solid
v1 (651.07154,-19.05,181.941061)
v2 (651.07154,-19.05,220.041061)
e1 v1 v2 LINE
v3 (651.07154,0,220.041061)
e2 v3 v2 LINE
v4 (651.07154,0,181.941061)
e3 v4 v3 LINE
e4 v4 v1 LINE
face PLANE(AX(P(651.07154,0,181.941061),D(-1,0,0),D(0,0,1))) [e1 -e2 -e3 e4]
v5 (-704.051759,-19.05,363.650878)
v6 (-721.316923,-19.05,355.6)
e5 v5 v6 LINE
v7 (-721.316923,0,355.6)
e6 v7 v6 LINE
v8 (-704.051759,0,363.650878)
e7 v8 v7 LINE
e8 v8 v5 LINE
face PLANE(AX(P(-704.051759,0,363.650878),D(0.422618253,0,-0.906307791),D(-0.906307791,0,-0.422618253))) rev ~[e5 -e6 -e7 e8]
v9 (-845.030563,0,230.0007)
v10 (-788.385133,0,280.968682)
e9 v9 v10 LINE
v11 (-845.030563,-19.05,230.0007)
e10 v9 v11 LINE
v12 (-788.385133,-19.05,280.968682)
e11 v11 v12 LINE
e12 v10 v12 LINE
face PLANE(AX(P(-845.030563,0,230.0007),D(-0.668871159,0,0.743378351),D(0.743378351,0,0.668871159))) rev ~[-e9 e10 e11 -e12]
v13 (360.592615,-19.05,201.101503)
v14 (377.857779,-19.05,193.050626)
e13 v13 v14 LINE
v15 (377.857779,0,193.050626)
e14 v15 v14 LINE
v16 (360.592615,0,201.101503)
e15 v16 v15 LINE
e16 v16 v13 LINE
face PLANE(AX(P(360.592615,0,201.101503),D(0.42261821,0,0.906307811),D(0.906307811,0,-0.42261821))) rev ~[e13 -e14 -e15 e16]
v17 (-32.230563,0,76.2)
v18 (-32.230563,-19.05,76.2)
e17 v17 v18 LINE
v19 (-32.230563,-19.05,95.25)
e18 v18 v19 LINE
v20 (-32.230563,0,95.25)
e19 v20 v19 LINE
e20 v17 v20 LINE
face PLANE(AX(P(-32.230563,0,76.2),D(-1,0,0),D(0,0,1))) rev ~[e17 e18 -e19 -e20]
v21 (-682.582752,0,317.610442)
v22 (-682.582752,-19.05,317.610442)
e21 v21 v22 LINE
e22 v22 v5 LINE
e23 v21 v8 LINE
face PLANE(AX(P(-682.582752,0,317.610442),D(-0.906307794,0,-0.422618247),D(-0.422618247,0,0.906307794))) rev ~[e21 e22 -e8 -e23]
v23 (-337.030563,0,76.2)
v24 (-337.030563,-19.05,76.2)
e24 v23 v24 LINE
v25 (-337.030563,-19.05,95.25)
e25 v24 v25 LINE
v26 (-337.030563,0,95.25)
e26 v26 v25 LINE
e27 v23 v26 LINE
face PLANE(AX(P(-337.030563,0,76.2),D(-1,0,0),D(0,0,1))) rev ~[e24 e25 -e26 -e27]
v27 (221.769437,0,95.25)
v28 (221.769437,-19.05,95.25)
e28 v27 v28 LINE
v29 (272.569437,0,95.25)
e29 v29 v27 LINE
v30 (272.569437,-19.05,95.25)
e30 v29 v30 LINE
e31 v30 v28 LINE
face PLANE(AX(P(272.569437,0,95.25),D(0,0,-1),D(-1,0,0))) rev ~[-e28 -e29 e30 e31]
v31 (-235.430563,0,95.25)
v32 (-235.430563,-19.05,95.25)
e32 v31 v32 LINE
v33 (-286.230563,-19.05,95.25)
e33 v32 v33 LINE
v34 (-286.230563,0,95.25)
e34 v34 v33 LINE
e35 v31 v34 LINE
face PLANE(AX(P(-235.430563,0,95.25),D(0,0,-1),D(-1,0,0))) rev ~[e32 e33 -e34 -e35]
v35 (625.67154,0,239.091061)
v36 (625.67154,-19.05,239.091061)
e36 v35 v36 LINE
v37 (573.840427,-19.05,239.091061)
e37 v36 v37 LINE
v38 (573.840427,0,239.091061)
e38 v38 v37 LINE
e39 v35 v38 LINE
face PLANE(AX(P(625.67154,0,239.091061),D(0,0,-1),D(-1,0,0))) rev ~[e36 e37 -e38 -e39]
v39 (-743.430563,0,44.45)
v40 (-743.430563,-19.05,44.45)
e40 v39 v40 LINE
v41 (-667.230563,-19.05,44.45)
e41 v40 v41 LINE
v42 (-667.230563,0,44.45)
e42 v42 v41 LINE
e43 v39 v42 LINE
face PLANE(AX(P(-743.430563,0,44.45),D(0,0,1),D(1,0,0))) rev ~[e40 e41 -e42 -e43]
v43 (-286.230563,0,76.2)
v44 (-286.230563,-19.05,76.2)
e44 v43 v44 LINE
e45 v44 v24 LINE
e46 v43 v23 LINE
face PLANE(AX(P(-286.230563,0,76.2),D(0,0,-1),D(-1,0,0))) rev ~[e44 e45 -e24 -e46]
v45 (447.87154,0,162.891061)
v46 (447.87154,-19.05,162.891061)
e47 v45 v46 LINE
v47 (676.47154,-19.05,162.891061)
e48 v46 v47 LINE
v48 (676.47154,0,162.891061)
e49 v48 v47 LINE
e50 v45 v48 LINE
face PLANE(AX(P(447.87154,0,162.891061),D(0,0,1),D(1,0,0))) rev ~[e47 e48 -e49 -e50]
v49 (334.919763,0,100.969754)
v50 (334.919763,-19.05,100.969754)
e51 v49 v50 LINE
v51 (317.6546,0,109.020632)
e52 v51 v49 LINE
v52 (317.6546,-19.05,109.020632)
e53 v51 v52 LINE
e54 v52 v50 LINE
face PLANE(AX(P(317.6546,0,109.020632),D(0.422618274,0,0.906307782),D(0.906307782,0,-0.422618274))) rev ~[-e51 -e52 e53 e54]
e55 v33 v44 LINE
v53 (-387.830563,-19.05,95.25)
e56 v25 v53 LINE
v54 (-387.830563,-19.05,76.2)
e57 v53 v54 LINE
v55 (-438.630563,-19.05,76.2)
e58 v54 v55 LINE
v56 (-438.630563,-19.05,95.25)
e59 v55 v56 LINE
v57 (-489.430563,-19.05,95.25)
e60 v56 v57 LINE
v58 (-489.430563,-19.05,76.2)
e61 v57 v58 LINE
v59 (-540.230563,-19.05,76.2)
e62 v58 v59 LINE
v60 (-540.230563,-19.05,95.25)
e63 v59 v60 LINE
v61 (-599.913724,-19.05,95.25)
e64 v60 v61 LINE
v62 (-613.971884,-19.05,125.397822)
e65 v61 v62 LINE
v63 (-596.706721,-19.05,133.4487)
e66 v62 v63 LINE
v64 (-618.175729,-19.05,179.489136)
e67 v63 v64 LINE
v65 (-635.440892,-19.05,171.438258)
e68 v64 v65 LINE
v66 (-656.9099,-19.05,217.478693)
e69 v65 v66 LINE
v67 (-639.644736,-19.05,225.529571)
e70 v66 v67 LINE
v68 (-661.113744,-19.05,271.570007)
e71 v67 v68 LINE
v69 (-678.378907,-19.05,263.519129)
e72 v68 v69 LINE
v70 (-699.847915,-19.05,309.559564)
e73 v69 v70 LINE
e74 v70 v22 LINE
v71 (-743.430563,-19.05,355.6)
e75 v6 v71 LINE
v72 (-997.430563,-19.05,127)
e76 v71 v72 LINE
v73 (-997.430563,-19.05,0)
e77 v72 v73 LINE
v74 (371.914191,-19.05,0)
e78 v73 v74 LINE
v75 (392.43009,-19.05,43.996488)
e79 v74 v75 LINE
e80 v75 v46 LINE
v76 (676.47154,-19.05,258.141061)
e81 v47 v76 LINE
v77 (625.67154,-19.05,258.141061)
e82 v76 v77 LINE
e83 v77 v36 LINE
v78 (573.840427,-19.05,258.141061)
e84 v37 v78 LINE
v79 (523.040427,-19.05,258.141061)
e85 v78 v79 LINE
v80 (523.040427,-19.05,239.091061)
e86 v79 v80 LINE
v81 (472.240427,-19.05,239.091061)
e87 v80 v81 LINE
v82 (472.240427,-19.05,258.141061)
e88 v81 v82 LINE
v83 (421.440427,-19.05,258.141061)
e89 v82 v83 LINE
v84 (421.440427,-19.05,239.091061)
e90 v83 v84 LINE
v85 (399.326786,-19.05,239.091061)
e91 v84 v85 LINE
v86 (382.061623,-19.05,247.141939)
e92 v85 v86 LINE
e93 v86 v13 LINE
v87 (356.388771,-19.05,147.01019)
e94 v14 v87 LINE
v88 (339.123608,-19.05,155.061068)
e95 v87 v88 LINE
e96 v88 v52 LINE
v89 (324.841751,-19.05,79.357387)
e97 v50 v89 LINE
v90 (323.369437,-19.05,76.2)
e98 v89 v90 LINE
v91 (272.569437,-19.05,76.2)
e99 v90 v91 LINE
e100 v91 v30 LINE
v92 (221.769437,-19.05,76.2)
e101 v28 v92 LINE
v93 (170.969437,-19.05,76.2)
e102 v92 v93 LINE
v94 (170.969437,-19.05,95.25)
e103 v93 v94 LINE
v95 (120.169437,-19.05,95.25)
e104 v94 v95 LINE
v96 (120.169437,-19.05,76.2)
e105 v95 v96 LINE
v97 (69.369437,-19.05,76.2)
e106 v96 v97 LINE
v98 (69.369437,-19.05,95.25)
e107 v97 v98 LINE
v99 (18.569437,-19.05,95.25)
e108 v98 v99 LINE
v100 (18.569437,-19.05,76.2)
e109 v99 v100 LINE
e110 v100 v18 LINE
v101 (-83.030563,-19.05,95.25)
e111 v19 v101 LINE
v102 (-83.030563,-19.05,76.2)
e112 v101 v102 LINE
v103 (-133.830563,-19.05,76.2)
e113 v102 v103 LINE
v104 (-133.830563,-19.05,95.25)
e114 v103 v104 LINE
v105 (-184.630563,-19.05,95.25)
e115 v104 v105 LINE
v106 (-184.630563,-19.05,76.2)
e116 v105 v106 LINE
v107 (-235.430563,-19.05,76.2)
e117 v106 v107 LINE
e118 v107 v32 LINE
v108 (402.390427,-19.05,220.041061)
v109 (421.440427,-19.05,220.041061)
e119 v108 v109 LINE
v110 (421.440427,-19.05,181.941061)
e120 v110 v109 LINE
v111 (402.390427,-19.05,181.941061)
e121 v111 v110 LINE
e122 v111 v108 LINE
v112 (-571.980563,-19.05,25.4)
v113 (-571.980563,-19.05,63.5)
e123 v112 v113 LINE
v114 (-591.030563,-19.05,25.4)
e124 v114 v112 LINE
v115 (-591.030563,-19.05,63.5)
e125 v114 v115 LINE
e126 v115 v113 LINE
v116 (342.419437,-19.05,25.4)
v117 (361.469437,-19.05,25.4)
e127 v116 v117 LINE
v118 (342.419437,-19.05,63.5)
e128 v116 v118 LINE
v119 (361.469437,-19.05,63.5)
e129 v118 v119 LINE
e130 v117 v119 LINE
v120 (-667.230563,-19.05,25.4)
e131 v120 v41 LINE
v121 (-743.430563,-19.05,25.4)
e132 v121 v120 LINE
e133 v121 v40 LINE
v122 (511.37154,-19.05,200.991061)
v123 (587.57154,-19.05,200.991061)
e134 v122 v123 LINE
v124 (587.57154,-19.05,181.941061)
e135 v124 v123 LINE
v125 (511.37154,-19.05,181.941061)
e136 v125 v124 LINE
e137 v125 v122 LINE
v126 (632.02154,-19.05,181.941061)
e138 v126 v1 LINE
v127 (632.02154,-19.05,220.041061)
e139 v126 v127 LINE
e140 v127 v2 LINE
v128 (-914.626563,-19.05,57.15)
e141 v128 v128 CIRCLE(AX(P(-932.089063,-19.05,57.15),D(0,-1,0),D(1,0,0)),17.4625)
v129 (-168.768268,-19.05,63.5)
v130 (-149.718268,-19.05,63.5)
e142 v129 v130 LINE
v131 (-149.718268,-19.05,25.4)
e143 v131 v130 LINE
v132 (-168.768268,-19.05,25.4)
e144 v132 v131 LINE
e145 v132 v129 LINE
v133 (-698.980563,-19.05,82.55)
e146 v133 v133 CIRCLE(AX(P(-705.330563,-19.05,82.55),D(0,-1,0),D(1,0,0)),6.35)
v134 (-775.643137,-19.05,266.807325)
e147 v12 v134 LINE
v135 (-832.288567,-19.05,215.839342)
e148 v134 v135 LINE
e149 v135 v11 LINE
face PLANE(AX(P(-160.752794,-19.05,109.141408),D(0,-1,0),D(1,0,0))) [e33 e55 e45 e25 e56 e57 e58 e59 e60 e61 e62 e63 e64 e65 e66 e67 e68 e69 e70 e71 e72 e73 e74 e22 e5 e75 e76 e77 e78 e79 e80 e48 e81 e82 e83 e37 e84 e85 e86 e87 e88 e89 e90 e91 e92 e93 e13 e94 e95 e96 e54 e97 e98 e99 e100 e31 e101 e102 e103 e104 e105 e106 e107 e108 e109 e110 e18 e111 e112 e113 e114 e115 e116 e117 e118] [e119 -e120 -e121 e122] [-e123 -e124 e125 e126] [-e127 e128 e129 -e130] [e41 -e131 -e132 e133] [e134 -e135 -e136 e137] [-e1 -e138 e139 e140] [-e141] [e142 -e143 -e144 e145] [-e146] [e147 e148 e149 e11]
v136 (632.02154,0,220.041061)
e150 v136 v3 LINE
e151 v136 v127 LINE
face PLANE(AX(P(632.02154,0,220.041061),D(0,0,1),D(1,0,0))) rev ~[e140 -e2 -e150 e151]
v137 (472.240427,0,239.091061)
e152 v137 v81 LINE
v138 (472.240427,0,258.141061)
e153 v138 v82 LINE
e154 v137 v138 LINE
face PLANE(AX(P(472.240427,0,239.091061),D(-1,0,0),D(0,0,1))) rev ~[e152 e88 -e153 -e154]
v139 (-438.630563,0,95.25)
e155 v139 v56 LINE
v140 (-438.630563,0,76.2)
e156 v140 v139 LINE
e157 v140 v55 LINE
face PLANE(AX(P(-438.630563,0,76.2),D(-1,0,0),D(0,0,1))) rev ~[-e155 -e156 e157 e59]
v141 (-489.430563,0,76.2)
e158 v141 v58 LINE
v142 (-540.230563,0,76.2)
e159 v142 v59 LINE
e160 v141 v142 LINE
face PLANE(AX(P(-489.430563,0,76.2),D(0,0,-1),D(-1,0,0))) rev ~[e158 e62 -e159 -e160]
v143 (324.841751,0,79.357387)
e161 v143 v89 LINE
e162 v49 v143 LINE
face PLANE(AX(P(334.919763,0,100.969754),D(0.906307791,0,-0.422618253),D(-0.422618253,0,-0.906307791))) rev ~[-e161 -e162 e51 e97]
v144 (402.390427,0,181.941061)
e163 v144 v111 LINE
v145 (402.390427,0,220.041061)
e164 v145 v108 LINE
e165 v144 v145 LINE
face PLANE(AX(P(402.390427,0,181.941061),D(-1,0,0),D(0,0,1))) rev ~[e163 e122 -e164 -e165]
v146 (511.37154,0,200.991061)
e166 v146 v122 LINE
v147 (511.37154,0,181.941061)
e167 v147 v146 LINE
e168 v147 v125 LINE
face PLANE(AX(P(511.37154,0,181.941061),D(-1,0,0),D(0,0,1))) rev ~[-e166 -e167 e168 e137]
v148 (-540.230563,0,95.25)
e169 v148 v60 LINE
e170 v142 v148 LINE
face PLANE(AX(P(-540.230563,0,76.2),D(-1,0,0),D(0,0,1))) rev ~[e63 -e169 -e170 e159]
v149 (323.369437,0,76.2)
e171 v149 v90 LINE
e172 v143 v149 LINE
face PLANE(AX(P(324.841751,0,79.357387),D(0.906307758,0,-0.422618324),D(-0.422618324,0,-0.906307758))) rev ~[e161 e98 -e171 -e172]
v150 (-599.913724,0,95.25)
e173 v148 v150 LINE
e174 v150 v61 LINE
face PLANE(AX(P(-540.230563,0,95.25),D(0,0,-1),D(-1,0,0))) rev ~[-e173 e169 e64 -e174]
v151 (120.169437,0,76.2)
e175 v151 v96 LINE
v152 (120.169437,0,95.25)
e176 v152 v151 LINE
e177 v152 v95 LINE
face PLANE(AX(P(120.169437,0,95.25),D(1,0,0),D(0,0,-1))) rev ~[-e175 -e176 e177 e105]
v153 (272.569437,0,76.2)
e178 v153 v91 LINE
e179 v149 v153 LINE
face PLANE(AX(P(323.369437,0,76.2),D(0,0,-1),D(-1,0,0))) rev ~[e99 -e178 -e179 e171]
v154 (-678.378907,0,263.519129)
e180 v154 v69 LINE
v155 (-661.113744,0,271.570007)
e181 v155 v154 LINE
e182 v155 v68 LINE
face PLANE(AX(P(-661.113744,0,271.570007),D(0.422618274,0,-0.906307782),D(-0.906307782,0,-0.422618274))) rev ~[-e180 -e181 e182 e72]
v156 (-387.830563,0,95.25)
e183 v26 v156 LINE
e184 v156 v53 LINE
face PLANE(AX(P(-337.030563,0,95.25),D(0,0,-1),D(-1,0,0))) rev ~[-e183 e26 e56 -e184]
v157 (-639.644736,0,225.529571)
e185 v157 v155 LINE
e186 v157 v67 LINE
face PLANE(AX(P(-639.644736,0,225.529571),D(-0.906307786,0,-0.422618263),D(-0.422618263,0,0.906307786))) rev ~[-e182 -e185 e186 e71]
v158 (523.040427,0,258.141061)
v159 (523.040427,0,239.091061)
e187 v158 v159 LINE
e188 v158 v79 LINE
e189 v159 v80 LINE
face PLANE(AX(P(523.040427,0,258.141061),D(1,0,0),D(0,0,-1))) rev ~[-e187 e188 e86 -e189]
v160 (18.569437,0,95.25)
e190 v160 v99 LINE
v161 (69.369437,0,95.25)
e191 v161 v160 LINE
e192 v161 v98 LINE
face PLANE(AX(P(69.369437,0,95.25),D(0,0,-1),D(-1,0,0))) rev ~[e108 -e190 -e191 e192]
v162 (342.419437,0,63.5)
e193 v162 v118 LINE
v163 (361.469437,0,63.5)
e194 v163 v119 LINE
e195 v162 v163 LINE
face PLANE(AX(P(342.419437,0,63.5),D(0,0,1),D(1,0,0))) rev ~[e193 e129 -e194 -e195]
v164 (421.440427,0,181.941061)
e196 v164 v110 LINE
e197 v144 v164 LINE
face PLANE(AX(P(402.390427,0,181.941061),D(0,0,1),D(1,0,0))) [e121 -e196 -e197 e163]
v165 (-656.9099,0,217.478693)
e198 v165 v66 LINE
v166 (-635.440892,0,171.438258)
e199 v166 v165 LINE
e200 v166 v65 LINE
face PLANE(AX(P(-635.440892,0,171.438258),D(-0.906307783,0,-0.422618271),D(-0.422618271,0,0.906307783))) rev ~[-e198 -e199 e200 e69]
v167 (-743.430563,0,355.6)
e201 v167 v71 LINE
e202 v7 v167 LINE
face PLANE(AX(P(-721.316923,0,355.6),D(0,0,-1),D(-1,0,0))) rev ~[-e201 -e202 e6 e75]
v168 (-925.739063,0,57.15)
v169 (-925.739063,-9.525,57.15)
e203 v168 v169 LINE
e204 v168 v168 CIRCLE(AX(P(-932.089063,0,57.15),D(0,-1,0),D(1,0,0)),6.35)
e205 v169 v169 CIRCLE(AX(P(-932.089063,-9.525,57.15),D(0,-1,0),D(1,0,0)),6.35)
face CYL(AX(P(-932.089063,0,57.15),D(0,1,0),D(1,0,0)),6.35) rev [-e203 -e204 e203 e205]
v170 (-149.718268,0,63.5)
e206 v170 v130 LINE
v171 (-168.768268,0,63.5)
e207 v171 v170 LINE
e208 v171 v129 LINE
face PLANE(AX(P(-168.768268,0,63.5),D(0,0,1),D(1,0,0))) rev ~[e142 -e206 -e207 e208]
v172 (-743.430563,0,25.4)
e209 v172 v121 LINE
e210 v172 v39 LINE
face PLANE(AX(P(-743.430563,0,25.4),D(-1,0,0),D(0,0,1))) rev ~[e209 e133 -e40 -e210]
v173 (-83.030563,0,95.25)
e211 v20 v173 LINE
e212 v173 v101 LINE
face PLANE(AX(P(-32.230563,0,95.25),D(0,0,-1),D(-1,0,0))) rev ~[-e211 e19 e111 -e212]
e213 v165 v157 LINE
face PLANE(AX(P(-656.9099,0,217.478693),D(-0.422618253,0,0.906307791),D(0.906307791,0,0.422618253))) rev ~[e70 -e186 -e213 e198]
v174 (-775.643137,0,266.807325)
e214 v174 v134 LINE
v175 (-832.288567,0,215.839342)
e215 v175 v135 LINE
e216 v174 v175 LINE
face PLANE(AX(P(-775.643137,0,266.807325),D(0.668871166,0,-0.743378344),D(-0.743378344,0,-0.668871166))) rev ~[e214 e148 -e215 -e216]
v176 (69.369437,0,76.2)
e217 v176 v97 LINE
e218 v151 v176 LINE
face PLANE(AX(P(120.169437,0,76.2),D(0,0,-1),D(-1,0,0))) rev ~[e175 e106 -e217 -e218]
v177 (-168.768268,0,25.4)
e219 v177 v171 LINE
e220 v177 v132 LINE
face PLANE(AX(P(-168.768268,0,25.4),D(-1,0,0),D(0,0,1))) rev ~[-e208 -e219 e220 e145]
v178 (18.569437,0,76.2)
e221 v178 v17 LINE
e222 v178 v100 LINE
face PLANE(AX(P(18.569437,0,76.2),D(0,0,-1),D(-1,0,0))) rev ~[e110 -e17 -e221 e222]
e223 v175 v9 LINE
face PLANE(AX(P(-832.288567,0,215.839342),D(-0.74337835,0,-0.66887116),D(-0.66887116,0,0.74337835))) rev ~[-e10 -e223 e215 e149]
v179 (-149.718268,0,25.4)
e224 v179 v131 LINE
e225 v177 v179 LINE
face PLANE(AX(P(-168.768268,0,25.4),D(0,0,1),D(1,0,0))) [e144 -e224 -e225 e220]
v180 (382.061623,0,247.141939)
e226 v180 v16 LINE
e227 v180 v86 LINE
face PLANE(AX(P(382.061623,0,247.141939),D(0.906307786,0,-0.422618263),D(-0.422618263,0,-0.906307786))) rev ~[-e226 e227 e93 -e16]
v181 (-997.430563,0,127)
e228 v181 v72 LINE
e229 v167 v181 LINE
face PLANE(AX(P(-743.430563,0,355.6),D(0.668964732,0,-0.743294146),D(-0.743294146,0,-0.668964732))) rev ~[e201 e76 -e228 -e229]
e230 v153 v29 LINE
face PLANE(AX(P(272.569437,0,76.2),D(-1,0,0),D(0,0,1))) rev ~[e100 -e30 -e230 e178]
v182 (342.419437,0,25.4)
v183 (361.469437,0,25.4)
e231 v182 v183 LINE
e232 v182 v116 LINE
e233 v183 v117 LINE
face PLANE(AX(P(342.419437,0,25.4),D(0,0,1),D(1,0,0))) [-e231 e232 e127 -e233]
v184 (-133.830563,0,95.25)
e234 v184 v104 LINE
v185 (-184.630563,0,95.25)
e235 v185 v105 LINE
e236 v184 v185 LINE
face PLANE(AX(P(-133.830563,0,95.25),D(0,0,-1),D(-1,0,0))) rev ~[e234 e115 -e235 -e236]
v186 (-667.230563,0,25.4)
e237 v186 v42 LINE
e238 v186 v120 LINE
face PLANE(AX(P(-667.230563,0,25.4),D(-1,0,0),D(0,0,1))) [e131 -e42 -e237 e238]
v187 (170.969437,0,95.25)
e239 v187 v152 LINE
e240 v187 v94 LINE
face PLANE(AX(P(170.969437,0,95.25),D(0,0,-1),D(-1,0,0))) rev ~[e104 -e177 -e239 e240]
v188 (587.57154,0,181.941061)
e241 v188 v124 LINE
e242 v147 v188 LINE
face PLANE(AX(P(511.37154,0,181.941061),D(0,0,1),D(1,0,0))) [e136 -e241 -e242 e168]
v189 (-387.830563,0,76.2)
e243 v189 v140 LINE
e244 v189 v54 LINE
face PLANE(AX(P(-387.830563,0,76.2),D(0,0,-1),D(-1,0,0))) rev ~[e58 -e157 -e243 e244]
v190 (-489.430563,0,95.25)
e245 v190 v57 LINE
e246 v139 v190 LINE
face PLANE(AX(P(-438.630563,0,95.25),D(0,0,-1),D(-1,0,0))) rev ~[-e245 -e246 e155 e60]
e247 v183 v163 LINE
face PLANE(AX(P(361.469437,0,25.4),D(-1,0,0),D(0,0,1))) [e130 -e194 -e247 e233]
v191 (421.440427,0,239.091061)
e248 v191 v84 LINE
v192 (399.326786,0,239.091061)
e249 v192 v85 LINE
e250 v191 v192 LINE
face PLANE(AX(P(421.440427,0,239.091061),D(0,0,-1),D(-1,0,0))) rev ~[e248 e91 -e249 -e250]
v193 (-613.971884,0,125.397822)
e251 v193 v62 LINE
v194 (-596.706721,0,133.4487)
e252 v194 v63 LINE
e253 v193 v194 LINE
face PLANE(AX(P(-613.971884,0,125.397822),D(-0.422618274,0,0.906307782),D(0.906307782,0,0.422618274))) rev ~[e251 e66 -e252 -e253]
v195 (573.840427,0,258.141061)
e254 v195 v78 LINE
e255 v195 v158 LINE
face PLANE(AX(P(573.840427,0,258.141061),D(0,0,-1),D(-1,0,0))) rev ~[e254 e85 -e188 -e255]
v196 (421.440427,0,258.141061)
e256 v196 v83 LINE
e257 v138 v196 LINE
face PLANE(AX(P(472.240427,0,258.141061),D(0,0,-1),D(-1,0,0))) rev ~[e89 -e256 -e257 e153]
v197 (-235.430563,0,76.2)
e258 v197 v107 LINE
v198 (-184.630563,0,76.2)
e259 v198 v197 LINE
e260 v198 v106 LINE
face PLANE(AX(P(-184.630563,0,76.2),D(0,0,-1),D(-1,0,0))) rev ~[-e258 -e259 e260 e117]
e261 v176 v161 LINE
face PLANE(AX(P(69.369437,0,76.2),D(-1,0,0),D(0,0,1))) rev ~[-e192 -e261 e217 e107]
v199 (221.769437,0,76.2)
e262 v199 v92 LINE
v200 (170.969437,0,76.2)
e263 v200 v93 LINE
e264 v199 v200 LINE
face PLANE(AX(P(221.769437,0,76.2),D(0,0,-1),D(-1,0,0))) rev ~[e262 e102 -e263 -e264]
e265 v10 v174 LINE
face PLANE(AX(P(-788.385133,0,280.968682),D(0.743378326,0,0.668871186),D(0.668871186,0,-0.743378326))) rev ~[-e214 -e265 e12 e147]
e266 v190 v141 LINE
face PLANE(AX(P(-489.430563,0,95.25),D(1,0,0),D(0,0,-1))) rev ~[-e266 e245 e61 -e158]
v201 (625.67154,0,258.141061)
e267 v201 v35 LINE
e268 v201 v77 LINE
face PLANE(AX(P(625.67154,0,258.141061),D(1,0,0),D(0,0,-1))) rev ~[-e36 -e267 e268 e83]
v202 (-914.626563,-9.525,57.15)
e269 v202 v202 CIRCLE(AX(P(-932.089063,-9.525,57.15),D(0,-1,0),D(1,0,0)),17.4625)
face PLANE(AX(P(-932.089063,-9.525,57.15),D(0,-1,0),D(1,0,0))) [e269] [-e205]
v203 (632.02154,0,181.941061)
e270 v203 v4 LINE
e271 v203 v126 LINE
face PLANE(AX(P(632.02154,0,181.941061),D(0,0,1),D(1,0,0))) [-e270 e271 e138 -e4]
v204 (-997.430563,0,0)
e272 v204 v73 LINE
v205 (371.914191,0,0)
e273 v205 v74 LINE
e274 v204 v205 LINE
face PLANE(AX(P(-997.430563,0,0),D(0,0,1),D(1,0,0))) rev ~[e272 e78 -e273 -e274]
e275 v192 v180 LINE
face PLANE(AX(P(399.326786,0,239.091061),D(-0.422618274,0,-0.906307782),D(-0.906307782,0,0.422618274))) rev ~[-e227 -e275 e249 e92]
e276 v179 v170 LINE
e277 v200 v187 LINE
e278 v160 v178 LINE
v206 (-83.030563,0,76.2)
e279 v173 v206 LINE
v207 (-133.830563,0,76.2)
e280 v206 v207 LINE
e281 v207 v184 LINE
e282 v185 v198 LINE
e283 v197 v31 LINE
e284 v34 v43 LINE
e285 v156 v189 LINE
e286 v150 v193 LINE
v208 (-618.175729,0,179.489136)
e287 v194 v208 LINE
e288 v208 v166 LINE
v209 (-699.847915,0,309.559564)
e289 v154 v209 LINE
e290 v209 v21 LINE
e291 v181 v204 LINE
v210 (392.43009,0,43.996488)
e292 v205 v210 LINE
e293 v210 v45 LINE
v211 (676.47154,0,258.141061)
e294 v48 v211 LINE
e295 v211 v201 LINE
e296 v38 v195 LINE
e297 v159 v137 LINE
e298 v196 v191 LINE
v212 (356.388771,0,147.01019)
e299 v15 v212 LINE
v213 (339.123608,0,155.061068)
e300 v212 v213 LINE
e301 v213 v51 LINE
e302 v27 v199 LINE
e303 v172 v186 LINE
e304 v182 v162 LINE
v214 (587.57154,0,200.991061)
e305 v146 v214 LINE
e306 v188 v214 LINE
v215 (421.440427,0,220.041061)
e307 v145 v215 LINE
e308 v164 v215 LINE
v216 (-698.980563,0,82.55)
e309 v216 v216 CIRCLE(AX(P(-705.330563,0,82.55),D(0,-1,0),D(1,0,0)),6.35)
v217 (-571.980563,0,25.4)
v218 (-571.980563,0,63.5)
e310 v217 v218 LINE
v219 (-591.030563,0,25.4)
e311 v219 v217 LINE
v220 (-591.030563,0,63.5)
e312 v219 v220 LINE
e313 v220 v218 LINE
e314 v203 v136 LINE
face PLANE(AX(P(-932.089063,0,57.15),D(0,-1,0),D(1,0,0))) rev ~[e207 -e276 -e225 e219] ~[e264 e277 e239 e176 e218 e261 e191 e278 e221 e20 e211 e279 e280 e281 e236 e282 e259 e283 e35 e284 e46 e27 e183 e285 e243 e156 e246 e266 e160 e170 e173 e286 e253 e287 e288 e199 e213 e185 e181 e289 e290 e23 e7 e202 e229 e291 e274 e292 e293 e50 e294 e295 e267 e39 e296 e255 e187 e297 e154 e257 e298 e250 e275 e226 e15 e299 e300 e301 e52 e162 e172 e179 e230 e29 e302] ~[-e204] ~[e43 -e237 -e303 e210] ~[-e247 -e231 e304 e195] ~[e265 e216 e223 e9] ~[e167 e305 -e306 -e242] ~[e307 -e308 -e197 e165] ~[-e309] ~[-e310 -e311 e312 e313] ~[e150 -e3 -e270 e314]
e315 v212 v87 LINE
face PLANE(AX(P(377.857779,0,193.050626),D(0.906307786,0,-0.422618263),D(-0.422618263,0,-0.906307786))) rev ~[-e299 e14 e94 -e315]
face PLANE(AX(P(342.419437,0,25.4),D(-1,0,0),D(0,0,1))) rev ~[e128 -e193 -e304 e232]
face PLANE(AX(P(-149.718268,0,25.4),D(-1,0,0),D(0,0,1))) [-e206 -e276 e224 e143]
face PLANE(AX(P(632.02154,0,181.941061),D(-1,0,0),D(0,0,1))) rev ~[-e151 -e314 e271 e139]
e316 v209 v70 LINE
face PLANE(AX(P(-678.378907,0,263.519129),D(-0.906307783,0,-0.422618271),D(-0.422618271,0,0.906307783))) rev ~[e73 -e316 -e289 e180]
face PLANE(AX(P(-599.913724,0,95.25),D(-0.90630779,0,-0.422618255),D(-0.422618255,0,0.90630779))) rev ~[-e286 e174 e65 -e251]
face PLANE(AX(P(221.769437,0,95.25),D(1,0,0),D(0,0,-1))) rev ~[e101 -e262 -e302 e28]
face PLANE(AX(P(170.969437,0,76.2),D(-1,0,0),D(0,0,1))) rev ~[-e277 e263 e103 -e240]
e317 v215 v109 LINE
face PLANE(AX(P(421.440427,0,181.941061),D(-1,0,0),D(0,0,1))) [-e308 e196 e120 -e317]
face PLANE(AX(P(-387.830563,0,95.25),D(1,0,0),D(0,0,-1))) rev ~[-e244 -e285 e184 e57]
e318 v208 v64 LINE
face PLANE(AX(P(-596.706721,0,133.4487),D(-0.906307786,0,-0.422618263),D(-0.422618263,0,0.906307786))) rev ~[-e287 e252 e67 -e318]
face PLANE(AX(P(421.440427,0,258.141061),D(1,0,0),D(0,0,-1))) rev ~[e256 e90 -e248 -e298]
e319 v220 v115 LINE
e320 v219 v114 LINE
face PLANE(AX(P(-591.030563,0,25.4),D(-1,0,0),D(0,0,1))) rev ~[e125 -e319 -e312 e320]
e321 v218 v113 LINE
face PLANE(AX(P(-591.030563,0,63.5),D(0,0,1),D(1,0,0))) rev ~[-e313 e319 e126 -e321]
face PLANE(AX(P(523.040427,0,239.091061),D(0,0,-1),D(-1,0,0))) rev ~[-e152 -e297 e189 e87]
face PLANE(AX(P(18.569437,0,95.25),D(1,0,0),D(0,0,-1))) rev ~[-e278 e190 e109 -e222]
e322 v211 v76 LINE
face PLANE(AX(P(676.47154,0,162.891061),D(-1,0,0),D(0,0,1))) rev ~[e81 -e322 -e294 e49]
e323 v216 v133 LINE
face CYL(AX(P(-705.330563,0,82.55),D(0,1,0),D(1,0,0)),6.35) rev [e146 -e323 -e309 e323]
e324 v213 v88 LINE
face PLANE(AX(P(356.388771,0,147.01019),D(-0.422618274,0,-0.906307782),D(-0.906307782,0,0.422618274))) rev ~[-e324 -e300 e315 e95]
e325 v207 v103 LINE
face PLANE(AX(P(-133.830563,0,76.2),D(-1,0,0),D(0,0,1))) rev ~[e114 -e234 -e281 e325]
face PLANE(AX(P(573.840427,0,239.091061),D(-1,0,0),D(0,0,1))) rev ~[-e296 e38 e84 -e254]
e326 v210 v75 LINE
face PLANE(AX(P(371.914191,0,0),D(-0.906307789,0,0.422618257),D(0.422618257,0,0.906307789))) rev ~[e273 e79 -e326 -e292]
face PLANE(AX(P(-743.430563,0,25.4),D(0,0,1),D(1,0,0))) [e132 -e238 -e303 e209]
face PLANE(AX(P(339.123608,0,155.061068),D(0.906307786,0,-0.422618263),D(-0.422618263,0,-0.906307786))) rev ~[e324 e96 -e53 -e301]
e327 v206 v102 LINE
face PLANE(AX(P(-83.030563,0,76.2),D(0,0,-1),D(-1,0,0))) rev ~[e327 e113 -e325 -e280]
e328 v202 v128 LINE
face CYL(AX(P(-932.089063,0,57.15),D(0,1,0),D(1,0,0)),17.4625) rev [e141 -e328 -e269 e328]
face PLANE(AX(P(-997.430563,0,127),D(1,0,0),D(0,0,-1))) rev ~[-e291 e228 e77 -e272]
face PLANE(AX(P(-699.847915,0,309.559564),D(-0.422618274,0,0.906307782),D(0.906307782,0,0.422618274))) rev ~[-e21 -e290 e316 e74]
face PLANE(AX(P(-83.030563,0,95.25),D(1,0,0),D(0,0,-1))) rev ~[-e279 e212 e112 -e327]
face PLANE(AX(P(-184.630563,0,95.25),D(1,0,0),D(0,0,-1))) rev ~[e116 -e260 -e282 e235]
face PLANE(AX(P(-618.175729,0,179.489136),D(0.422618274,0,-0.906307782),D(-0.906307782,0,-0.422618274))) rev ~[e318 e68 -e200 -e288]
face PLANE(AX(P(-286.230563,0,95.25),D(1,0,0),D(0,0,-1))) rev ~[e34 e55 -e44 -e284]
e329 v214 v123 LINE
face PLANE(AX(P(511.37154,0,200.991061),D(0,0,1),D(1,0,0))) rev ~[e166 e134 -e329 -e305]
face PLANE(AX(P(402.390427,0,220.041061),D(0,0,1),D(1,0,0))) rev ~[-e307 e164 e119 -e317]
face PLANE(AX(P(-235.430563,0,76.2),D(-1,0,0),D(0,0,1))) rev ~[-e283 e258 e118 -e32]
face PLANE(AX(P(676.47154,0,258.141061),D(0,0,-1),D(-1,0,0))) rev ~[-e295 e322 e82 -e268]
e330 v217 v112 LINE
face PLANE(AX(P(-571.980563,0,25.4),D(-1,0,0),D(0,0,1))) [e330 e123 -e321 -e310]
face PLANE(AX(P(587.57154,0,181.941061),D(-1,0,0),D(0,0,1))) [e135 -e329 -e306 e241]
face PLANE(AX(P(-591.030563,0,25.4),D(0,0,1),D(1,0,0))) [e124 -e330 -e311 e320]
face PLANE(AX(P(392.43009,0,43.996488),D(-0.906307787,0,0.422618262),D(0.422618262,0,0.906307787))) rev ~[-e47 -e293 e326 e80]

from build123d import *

# Parameters (mm, degrees)
F0_W     = 76.2
F0_H     = 19.05
F0_W_2   = 19.05
F0_H_2   = 38.1
F0_R     = 17.4625
F0_R_2   = 6.35
F1_DEPTH = 19.05
F2_DEPTH = 9.525


with BuildPart() as f1:
    # F0 (on Front) → F1 (new body)
    with BuildSketch(Plane.XZ):
        Polygon((-489.430563, 76.2), (-540.230563, 76.2), (-540.230563, 95.25), (-591.030563, 95.25), (-599.913724, 95.25), (-613.971884, 125.397822), (-596.706721, 133.4487), (-618.175729, 179.489136), (-635.440892, 171.438258), (-656.9099, 217.478693), (-639.644736, 225.529571), (-661.113744, 271.570007), (-678.378907, 263.519129), (-699.847915, 309.559564), (-682.582752, 317.610442), (-704.051759, 363.650878), (-721.316923, 355.6), (-743.430563, 355.6), (-997.430563, 127), (-997.430563, 0), (-591.030563, 0), (342.419437, 0), (371.914191, 0), (392.43009, 43.996488), (447.87154, 162.891061), (502.200551, 162.891061), (676.47154, 162.891061), (676.47154, 239.091061), (676.47154, 258.141061), (625.67154, 258.141061), (625.67154, 239.091061), (573.840427, 239.091061), (573.840427, 258.141061), (523.040427, 258.141061), (523.040427, 239.091061), (472.240427, 239.091061), (472.240427, 258.141061), (421.440427, 258.141061), (421.440427, 239.091061), (399.326786, 239.091061), (382.061623, 247.141939), (360.592615, 201.101503), (377.857779, 193.050626), (356.388771, 147.01019), (339.123608, 155.061068), (317.6546, 109.020632), (334.919763, 100.969754), (324.841751, 79.357387), (323.369437, 76.2), (272.569437, 76.2), (272.569437, 95.25), (221.769437, 95.25), (221.769437, 76.2), (170.969437, 76.2), (170.969437, 95.25), (120.169437, 95.25), (120.169437, 76.2), (69.369437, 76.2), (69.369437, 95.25), (18.569437, 95.25), (18.569437, 76.2), (-32.230563, 76.2), (-32.230563, 95.25), (-83.030563, 95.25), (-83.030563, 76.2), (-133.830563, 76.2), (-133.830563, 95.25), (-184.630563, 95.25), (-184.630563, 76.2), (-235.430563, 76.2), (-235.430563, 95.25), (-286.230563, 95.25), (-286.230563, 76.2), (-337.030563, 76.2), (-337.030563, 95.25), (-387.830563, 95.25), (-387.830563, 76.2), (-438.630563, 76.2), (-438.630563, 95.25), (-489.430563, 95.25), align=None)
        with Locations((-705.330563, 34.925)):
            Rectangle(F0_W, F0_H, mode=Mode.SUBTRACT)
        with Locations((-581.505563, 44.45)):
            Rectangle(F0_W_2, F0_H_2, mode=Mode.SUBTRACT)
        with Locations((-932.089063, 57.15)):
            Circle(F0_R, mode=Mode.SUBTRACT)
        with Locations((-705.330563, 82.55)):
            Circle(F0_R_2, mode=Mode.SUBTRACT)
        with Locations((-159.243268, 44.45)):
            Rectangle(F0_W_2, F0_H_2, mode=Mode.SUBTRACT)
        with Locations((351.944437, 44.45)):
            Rectangle(F0_W_2, F0_H_2, mode=Mode.SUBTRACT)
        Polygon((-832.288567, 215.839342), (-845.030563, 230.0007), (-788.385133, 280.968682), (-775.643137, 266.807325), align=None, mode=Mode.SUBTRACT)
        with Locations((411.915427, 200.991061)):
            Rectangle(F0_W_2, F0_H_2, mode=Mode.SUBTRACT)
        with Locations((549.47154, 191.466061)):
            Rectangle(F0_W, F0_H, mode=Mode.SUBTRACT)
        with Locations((641.54654, 200.991061)):
            Rectangle(F0_W_2, F0_H_2, mode=Mode.SUBTRACT)
    extrude(amount=F1_DEPTH)

    # F0 (on Front) → F2 (join)
    with BuildSketch(Plane.XZ):
        with Locations((-932.089063, 57.15)):
            Circle(F0_R)
        with Locations((-932.089063, 57.15)):
            Circle(F0_R_2, mode=Mode.SUBTRACT)
    extrude(amount=F2_DEPTH)


solid = f1.part
